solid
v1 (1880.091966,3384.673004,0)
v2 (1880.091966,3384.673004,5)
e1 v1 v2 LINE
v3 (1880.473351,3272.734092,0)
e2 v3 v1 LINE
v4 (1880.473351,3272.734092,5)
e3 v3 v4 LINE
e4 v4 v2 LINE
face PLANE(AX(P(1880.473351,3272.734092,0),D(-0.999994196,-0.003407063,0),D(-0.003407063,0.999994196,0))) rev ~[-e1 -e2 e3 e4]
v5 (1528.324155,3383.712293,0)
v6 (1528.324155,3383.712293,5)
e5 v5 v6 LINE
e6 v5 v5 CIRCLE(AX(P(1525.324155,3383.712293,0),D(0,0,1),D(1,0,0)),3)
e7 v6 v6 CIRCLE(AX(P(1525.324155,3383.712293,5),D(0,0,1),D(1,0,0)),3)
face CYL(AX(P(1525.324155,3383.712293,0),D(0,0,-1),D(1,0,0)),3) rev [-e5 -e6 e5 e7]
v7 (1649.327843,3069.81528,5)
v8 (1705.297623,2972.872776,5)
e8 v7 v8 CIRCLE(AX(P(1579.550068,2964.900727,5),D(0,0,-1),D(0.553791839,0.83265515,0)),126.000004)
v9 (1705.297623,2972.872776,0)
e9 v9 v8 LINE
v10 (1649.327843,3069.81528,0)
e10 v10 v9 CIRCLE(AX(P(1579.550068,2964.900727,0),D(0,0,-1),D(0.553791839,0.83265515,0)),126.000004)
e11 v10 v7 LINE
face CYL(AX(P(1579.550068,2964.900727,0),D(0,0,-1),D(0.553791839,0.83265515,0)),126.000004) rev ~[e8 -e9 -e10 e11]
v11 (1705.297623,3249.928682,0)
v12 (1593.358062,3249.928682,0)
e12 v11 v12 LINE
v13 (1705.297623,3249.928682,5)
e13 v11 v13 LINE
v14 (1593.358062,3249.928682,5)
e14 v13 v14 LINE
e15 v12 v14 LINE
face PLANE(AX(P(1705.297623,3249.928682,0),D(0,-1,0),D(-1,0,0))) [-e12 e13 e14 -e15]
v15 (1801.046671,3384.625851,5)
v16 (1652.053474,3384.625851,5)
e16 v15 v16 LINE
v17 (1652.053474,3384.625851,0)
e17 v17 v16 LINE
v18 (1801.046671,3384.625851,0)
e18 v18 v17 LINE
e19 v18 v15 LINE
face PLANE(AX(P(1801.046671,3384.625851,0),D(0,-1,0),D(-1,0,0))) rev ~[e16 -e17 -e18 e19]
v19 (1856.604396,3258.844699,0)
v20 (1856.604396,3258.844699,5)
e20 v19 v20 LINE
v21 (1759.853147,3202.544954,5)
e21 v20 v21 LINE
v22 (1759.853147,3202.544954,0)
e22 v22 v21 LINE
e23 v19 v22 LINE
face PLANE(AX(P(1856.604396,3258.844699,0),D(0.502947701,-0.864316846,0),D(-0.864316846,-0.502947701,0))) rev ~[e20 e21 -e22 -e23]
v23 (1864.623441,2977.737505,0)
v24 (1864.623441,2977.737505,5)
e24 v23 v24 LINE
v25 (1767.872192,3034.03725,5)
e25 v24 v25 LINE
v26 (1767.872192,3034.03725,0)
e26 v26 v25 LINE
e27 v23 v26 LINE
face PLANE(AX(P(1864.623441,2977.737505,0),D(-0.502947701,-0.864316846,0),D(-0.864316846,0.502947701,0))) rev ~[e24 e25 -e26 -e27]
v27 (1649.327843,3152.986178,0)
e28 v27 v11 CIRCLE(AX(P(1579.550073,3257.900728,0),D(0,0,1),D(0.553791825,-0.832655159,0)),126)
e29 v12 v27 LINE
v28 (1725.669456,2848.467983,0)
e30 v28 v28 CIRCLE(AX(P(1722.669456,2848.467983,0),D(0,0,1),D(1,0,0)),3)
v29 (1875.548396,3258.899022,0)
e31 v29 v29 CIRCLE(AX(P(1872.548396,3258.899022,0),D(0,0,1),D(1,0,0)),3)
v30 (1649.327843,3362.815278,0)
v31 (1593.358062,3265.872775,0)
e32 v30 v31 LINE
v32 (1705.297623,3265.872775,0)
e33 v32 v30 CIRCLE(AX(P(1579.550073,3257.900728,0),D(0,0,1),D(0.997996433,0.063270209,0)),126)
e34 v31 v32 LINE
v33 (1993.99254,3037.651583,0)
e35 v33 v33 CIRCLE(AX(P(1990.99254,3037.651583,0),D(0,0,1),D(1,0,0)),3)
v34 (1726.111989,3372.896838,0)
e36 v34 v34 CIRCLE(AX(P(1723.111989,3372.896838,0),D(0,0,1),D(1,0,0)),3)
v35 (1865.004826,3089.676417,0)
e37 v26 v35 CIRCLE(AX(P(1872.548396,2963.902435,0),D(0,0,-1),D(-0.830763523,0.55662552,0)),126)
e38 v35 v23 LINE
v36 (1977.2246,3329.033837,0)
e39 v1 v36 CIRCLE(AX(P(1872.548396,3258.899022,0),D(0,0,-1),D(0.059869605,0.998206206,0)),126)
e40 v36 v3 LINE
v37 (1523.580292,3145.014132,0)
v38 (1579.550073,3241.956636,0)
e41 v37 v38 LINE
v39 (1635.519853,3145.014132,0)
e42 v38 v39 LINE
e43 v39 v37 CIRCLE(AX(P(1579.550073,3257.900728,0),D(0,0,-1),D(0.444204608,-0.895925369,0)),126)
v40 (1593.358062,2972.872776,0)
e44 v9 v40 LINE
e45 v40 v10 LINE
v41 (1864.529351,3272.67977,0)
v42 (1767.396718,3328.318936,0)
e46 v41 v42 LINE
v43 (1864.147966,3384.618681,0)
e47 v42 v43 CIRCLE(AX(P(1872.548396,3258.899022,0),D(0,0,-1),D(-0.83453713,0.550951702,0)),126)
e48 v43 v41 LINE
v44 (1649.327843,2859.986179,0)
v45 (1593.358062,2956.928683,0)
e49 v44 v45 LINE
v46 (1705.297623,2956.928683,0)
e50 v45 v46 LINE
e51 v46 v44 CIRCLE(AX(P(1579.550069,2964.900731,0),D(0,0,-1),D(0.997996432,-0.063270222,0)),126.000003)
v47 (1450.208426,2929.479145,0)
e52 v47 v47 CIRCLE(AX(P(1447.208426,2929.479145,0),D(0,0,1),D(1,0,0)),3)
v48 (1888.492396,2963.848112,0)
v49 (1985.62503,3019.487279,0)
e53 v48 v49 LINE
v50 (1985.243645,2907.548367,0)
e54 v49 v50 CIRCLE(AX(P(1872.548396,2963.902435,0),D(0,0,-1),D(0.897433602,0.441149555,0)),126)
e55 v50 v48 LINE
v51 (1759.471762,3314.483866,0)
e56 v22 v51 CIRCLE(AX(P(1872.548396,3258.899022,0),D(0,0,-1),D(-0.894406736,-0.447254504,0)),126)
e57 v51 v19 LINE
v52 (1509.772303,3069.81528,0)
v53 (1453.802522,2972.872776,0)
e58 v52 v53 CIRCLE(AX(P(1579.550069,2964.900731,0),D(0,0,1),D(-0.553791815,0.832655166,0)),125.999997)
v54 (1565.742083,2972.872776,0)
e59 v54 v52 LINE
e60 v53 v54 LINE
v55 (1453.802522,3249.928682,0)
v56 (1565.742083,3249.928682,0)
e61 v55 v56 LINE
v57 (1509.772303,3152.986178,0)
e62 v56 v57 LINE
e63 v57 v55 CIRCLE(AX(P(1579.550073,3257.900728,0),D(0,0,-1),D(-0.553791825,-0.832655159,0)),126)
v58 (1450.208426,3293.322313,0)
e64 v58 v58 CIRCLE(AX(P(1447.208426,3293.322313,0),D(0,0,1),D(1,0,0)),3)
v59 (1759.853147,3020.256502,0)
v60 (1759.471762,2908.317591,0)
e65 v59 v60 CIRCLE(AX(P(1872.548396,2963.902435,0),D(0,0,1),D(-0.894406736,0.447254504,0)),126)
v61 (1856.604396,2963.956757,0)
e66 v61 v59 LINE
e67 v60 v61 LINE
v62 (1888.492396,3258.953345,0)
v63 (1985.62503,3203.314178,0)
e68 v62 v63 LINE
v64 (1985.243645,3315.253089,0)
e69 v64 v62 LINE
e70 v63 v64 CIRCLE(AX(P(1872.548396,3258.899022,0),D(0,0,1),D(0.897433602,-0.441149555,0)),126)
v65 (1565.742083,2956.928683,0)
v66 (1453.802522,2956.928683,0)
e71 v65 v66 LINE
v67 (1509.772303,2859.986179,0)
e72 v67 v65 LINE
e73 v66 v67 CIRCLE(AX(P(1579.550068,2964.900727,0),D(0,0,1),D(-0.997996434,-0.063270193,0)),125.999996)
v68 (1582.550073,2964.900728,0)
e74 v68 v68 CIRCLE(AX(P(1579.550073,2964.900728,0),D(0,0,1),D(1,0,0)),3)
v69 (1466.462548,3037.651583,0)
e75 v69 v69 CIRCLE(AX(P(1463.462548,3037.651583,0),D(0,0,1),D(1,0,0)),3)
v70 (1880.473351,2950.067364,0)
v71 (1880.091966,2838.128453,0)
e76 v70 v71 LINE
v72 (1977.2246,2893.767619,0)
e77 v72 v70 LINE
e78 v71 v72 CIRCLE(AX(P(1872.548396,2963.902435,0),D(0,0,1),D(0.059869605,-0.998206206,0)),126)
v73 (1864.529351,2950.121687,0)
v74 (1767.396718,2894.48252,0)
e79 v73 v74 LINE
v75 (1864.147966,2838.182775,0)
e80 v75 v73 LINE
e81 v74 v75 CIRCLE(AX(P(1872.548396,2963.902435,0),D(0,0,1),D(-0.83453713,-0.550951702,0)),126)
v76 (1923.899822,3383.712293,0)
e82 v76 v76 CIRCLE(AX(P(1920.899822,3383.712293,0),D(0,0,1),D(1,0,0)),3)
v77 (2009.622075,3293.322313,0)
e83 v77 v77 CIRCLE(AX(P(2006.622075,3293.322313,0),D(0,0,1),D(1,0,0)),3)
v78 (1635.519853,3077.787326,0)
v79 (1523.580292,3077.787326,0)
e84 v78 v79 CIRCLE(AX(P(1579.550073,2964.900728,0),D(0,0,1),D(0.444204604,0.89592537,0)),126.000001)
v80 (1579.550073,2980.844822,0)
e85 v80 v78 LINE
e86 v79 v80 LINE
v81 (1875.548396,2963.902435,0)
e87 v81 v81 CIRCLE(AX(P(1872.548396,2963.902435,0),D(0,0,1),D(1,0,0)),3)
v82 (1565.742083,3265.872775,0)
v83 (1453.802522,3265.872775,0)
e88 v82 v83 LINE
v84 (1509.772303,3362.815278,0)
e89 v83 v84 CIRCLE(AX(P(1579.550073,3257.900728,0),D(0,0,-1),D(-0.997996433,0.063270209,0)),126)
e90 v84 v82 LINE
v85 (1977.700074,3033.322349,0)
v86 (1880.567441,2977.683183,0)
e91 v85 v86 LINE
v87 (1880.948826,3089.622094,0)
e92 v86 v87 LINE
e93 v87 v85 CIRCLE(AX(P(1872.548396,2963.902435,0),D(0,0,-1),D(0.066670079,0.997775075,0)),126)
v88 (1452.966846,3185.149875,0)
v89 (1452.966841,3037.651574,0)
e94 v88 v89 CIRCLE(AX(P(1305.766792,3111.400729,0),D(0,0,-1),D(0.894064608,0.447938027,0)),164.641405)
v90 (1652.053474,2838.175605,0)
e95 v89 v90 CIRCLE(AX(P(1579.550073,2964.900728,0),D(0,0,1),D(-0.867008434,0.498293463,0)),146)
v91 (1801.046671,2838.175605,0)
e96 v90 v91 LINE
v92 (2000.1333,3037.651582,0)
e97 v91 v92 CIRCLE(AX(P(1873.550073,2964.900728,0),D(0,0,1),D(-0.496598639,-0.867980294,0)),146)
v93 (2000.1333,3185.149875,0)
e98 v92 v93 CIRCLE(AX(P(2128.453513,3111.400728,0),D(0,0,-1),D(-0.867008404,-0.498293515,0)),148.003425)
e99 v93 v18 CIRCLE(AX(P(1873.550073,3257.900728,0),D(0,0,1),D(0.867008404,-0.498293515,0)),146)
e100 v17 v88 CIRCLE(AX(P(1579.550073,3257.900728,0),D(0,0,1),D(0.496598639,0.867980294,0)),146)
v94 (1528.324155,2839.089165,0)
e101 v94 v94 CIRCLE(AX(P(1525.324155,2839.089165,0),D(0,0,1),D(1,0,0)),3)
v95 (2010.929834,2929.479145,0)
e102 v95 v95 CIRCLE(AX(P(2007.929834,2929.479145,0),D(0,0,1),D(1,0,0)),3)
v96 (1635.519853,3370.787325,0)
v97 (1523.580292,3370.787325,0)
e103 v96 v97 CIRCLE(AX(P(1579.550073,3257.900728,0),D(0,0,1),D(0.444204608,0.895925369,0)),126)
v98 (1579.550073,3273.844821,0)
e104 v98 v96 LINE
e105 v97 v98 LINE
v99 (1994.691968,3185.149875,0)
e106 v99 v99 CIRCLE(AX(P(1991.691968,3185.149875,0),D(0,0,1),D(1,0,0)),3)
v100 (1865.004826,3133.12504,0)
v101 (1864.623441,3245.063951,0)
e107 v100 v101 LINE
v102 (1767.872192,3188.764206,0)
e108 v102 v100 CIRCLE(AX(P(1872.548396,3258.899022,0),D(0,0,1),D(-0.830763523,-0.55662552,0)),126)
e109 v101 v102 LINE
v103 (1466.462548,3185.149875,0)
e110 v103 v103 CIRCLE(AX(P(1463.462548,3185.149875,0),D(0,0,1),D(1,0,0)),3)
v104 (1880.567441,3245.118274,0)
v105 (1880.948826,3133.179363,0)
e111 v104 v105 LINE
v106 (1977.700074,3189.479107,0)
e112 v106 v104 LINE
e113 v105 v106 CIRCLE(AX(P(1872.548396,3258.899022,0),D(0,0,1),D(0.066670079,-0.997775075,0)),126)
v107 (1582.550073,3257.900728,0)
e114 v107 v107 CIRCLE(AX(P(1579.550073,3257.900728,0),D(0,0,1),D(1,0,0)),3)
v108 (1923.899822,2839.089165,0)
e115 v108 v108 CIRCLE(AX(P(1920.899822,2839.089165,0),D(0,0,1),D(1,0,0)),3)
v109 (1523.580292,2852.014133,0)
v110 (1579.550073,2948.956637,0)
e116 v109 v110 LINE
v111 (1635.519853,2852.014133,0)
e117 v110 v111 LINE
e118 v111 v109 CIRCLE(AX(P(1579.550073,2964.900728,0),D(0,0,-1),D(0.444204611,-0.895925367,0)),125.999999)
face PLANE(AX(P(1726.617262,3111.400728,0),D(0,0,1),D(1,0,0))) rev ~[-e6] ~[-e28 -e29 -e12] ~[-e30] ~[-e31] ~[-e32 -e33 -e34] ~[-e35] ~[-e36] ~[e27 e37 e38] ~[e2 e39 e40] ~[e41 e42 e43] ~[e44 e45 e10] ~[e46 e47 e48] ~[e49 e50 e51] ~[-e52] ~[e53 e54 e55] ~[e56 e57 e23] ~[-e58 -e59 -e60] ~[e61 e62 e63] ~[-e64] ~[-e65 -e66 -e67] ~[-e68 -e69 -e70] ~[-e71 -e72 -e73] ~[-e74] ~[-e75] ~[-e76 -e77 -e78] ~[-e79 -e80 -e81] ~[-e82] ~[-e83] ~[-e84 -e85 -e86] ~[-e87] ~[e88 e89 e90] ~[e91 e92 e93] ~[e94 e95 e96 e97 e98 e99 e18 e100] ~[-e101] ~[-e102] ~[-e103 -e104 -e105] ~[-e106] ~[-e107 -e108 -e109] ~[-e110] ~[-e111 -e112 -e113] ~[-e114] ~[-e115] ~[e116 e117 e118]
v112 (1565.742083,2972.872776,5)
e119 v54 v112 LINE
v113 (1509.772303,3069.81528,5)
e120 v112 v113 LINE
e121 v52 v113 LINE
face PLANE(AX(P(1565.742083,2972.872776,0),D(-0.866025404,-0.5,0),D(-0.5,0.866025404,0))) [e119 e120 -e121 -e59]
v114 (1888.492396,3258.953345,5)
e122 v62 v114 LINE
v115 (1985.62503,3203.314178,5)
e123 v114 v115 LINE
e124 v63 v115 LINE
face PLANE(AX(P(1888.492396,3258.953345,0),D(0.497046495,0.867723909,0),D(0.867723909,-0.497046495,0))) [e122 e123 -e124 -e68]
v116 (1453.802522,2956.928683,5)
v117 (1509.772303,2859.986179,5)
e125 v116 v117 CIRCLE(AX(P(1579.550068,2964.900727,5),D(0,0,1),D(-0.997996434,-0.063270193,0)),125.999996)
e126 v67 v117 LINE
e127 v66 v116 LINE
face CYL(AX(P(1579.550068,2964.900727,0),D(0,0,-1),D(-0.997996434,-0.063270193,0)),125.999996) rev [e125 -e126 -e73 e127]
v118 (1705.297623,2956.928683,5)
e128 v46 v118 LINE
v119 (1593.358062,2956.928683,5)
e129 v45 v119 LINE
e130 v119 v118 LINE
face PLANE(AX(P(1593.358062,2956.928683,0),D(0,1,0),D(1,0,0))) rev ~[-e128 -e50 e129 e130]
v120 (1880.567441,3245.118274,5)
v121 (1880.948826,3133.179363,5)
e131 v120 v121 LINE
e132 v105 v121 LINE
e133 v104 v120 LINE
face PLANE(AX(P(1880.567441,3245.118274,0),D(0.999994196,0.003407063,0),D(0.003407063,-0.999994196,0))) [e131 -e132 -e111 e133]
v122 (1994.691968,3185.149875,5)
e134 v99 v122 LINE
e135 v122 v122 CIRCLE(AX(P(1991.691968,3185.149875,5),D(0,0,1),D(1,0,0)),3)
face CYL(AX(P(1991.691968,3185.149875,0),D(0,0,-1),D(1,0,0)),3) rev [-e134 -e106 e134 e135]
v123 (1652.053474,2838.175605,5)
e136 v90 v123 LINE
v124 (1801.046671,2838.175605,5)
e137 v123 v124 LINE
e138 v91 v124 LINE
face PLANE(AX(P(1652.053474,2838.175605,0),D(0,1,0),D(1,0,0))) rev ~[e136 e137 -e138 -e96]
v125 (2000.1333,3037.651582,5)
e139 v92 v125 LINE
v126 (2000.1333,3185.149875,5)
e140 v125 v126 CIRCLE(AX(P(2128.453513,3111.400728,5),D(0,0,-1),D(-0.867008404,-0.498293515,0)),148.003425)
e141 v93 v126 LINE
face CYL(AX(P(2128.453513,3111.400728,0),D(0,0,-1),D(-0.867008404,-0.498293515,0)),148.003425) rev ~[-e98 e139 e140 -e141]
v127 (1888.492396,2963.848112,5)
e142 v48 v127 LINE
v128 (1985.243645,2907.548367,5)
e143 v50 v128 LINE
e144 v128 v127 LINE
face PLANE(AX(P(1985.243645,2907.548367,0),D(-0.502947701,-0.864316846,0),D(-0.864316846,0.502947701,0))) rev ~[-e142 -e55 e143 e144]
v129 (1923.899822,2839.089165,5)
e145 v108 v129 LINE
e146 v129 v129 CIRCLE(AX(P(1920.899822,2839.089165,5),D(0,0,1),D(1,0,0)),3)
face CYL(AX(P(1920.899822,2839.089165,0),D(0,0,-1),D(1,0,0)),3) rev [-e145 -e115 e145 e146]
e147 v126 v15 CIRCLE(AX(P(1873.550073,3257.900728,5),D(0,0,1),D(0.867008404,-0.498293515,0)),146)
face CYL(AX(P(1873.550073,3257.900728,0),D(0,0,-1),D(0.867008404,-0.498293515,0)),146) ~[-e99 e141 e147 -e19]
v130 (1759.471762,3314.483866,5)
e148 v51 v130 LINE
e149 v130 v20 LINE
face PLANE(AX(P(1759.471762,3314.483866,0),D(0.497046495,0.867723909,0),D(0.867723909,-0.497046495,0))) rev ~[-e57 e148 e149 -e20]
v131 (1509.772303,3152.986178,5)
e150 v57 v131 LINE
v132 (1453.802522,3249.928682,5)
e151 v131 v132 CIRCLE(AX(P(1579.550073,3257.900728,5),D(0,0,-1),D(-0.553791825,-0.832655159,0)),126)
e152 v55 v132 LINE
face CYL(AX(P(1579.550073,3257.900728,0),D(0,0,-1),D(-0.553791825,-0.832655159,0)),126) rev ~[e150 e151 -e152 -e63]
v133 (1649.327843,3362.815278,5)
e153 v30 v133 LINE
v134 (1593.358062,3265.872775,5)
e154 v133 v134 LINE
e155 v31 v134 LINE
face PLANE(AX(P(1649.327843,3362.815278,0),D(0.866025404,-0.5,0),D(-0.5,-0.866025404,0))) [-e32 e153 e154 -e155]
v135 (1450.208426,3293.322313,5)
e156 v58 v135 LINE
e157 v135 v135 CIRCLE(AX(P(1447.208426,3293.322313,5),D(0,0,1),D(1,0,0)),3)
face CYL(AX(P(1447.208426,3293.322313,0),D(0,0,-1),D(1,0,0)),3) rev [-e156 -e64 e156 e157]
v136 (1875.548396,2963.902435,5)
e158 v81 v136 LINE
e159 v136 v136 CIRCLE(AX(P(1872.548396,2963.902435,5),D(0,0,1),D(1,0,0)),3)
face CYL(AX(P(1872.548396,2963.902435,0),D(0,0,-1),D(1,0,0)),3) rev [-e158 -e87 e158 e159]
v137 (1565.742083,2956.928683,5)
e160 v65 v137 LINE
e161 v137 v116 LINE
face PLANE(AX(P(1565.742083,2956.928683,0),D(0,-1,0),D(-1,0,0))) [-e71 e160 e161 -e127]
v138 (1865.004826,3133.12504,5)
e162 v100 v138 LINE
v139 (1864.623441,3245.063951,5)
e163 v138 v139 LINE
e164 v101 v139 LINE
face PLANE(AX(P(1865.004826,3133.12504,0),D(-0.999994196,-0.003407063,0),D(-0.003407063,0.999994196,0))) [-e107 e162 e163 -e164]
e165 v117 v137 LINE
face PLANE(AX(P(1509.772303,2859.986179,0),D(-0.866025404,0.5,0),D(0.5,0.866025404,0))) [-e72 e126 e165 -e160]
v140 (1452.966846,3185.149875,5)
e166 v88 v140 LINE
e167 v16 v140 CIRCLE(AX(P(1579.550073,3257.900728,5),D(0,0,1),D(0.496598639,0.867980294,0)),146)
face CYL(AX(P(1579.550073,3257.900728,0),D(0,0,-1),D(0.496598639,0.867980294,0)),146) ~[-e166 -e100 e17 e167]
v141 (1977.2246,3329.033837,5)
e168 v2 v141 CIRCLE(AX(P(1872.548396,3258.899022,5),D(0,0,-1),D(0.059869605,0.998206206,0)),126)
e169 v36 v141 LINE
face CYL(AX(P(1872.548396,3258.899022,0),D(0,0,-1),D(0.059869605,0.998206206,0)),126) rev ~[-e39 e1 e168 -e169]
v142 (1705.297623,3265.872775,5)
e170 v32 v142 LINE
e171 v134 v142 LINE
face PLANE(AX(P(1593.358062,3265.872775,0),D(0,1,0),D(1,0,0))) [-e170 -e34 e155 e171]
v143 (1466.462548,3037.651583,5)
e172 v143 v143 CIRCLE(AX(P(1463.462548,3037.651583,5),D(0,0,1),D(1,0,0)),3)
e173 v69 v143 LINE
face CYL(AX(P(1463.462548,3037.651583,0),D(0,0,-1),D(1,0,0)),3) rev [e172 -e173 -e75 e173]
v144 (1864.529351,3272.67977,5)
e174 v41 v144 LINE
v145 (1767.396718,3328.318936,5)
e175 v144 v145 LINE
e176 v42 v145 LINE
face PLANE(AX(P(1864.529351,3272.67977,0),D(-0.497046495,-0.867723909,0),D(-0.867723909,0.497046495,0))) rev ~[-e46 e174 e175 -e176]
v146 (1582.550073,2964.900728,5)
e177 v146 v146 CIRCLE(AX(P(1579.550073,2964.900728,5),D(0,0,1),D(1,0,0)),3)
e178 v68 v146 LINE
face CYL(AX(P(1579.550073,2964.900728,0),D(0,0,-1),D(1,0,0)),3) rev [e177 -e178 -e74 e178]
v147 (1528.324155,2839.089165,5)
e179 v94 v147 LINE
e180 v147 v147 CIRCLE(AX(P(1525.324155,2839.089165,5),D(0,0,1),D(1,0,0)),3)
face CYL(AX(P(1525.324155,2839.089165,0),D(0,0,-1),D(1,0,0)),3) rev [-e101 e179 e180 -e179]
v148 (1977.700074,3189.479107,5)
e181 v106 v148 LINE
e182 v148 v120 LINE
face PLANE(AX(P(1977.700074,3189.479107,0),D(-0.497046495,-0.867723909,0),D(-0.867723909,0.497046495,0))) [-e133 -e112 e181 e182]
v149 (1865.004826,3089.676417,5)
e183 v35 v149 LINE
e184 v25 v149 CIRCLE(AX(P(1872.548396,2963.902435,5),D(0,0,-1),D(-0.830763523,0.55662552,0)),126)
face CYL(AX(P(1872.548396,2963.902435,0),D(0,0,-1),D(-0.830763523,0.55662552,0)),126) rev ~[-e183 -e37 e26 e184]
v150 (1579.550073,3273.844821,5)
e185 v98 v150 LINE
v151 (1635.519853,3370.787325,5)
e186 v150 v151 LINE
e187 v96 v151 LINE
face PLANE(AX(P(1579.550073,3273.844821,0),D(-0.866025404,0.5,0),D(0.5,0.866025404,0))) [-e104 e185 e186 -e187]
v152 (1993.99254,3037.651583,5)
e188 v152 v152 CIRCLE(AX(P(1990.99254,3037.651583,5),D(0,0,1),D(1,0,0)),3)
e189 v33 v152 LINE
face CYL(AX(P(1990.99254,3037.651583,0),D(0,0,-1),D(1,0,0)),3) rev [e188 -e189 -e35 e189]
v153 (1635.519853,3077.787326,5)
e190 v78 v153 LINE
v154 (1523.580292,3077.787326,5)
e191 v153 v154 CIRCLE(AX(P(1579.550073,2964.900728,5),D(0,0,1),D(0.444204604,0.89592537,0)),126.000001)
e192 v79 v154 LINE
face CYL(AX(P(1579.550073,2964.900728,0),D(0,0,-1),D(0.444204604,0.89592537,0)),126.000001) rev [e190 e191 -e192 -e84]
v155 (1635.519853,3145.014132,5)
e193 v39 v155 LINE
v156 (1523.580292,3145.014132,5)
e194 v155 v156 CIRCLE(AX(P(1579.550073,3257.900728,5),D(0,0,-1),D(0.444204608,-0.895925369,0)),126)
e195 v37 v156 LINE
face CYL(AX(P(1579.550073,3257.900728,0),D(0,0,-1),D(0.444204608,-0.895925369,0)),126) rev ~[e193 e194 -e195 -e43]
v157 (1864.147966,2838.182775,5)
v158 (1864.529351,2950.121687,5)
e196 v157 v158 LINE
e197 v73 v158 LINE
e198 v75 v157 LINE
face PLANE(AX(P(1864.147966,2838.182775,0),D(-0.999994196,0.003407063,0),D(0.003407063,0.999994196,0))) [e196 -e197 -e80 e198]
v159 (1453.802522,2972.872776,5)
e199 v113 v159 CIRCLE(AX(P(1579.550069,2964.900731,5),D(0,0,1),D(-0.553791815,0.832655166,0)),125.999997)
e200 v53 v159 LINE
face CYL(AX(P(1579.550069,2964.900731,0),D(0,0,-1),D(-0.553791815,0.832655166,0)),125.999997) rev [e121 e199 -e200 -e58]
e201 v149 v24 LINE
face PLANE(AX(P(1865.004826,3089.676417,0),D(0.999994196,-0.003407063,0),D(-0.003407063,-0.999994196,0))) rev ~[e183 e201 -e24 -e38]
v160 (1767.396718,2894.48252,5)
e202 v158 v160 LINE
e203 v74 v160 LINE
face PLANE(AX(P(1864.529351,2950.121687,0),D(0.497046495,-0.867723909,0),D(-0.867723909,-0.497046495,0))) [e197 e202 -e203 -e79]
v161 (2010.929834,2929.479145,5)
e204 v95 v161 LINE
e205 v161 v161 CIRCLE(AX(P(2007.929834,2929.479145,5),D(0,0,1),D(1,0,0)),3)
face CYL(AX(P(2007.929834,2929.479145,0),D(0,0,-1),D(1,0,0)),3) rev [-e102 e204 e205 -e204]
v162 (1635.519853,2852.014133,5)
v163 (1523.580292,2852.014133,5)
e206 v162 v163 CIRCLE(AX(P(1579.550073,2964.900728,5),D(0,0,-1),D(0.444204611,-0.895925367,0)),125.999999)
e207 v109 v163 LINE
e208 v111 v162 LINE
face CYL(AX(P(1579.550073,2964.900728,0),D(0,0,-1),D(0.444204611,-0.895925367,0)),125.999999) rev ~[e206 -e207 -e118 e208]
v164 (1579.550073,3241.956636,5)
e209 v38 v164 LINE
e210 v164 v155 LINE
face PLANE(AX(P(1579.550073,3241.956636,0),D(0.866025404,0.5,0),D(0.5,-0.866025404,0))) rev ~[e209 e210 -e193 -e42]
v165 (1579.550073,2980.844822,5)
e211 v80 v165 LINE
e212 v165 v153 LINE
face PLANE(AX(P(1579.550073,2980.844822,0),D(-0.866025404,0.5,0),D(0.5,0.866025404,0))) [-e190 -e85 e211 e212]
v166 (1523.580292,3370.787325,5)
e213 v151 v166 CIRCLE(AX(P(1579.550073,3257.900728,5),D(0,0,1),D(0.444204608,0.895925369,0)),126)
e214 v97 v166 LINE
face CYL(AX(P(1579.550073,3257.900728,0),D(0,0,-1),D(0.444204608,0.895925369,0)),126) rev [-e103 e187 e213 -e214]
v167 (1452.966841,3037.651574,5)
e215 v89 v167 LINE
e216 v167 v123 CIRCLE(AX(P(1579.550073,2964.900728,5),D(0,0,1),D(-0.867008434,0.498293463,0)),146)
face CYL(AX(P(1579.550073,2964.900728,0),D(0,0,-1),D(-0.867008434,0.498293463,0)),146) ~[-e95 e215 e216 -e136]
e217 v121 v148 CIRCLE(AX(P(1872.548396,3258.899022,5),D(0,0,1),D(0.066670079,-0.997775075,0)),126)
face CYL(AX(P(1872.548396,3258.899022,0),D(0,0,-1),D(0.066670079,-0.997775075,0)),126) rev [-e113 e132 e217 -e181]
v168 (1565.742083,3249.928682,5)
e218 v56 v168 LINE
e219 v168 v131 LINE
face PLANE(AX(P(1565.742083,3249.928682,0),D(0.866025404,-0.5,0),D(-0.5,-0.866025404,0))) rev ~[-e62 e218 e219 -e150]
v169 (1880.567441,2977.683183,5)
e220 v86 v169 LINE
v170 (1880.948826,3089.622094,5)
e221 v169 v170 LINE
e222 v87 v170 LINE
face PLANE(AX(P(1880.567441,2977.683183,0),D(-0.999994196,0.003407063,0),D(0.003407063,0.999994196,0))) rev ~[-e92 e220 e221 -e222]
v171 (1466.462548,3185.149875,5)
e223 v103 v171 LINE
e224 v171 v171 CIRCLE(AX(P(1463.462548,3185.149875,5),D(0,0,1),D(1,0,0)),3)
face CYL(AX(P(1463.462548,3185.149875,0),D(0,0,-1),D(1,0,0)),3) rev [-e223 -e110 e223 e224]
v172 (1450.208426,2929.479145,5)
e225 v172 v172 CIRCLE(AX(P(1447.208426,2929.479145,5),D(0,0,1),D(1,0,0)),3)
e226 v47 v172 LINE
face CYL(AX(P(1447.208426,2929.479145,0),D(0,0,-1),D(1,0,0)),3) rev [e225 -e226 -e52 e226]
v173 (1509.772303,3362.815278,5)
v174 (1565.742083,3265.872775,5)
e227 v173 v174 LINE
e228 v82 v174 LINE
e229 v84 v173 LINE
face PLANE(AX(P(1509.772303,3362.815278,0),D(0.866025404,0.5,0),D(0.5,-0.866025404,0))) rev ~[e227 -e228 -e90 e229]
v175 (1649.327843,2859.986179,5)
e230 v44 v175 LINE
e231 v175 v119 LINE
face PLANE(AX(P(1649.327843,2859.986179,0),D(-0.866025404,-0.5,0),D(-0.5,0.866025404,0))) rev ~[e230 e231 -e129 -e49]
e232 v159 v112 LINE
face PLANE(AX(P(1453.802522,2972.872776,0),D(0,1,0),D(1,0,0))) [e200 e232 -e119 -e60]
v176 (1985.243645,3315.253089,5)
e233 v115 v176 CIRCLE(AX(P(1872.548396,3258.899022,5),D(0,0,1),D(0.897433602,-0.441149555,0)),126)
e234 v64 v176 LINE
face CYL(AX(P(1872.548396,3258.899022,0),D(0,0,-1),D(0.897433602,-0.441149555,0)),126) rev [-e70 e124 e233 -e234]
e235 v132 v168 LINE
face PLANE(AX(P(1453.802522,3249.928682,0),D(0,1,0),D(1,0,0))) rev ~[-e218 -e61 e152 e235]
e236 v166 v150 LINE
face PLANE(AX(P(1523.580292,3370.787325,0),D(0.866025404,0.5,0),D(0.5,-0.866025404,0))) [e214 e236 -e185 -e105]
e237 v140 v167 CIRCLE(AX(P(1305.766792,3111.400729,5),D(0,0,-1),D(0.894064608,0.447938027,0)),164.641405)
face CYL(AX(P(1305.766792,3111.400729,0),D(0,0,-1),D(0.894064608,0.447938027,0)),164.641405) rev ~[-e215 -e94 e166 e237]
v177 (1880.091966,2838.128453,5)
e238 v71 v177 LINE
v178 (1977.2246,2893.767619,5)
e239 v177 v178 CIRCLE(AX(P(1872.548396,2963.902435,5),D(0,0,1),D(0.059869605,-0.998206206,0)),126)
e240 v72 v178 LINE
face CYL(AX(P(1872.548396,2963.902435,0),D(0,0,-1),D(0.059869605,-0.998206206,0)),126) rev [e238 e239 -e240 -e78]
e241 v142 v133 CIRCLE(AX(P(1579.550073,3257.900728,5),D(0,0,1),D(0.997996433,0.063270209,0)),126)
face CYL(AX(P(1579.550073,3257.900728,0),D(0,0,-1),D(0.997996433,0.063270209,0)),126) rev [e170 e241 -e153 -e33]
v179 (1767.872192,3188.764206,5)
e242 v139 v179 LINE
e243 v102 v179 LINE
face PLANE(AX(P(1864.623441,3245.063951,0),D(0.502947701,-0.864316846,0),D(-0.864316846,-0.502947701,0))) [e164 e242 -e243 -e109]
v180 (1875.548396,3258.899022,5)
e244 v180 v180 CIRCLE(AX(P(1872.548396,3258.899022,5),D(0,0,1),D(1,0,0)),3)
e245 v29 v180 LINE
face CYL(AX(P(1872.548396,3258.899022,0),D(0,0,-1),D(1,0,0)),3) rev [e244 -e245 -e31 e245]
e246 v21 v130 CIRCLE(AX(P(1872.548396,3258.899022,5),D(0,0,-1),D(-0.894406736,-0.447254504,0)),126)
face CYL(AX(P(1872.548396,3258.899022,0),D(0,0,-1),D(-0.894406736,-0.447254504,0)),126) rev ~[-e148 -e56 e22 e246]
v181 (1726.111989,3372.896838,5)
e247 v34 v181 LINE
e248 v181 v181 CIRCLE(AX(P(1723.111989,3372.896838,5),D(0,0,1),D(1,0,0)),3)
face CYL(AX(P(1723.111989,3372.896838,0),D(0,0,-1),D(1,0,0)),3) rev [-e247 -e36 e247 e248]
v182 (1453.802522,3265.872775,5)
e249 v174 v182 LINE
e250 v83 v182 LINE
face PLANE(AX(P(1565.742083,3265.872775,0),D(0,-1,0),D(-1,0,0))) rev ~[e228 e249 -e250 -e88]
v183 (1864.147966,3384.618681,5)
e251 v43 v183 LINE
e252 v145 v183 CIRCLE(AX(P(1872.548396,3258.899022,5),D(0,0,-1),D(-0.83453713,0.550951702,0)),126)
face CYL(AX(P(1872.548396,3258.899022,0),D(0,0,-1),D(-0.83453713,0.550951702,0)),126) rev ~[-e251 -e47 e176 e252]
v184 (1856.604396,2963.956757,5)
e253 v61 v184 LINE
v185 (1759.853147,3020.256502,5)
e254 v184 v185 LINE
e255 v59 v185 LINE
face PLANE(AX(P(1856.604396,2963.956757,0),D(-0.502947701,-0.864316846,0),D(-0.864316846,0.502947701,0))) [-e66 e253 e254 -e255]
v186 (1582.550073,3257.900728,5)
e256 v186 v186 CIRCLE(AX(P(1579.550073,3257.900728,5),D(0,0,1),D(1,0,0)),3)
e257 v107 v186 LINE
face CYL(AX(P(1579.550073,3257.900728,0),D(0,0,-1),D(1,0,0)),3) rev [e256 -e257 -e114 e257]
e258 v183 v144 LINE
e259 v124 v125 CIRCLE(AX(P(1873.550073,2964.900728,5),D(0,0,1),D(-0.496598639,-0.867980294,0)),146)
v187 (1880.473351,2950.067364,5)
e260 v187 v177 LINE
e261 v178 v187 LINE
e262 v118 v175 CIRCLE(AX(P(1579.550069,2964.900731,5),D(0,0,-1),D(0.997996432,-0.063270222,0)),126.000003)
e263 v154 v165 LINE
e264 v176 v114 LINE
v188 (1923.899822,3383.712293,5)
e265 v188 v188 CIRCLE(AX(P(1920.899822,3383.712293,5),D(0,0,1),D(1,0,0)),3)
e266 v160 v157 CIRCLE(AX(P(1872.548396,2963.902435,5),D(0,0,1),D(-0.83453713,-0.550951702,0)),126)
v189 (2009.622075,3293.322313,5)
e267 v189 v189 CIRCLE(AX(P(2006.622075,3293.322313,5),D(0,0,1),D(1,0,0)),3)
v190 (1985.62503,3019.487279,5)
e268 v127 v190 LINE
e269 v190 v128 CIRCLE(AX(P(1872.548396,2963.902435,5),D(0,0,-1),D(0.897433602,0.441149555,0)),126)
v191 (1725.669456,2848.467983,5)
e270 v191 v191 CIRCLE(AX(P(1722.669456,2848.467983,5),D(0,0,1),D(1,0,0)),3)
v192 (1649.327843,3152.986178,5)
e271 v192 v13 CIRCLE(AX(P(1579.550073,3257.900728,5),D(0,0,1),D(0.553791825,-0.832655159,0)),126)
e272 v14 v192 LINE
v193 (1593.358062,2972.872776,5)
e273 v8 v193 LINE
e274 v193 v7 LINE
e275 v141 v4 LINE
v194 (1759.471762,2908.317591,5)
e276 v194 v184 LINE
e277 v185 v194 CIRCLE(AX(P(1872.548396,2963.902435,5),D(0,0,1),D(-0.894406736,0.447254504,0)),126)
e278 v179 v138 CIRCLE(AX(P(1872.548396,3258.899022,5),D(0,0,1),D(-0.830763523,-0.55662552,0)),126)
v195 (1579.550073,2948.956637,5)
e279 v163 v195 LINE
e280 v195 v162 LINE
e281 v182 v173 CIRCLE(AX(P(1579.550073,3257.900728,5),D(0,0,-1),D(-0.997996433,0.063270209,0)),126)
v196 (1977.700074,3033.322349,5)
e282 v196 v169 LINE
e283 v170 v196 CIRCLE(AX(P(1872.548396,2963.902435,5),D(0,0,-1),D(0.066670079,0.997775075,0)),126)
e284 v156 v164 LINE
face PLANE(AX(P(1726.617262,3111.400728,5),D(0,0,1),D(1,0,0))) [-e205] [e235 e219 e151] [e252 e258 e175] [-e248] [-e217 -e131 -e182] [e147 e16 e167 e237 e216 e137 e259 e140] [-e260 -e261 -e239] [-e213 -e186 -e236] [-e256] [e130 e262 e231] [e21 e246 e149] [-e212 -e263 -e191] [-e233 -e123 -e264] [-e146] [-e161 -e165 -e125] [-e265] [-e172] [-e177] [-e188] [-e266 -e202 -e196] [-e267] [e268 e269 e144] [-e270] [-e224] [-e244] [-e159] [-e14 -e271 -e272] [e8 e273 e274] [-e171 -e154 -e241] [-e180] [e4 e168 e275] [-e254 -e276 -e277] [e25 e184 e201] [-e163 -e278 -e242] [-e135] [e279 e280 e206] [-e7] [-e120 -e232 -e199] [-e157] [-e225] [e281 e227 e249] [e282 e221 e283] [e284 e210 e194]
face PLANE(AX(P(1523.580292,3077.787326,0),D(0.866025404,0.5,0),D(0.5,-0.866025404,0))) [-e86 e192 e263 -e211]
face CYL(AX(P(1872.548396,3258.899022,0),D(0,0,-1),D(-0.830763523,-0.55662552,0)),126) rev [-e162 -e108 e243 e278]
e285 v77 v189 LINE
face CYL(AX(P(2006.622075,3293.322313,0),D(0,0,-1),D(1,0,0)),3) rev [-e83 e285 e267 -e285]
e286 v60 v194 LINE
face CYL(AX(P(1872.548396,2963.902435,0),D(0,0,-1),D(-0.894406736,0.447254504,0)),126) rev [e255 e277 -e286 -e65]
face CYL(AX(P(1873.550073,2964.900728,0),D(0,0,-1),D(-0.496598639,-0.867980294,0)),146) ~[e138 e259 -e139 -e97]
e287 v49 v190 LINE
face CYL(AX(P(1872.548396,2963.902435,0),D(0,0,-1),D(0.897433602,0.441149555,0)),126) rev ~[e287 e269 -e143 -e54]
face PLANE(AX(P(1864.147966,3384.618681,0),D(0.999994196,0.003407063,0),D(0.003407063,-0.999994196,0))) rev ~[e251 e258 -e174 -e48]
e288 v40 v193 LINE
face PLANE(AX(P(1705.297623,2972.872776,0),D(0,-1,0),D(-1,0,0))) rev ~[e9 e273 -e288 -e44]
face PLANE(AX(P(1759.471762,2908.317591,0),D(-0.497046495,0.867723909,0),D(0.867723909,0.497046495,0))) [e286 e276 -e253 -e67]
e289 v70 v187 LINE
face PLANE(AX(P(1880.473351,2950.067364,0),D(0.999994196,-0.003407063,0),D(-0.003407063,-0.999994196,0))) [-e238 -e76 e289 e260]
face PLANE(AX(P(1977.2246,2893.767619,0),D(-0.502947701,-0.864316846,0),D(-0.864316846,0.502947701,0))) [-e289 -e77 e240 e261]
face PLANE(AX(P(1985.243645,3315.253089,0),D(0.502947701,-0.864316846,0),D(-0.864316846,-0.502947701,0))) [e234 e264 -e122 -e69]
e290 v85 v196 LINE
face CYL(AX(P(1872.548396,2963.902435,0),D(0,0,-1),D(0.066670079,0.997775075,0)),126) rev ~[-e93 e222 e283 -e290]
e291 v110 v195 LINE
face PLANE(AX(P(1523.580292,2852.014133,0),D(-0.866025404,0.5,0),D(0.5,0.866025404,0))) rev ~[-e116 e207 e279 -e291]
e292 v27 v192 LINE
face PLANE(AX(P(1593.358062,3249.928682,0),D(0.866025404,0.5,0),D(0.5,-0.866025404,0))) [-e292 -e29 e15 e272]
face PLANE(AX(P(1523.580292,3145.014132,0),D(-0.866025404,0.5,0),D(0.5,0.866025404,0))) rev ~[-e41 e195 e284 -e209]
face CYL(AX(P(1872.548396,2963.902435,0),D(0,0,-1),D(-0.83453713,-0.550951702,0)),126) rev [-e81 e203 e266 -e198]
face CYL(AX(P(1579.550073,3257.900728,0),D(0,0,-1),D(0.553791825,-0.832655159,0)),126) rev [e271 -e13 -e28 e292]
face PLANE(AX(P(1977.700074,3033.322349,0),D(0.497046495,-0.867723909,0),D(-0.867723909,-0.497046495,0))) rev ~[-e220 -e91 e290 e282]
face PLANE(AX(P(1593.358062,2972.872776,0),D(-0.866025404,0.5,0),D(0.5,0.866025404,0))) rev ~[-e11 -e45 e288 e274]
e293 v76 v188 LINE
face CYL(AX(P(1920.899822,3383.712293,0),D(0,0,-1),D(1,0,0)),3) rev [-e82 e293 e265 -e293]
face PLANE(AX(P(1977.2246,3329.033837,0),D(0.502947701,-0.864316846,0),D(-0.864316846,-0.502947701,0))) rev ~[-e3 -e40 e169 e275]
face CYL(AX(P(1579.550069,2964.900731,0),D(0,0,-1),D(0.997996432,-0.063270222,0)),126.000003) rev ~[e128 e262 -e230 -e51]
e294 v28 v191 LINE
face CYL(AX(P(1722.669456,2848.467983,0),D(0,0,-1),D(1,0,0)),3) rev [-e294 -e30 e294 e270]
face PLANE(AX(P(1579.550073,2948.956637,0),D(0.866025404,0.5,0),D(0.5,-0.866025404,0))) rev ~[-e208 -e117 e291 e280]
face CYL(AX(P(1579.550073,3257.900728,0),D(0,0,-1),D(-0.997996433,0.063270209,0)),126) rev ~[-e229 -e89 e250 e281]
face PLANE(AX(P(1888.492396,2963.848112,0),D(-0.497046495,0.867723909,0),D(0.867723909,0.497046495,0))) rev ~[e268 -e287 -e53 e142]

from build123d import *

# Parameters (mm, degrees)
MODEL_R         = 3
MODEL_R_2       = 2.999999999
EXTRUDE_1_DEPTH = 5


with BuildPart() as part:
    # Model → 凸台-拉伸1 (new body)
    with BuildSketch(Plane.XY):
        with BuildLine():
            Line((1801.04667122, 3384.62585133), (1652.053473941, 3384.62585133))
            ThreePointArc((1652.053473941, 3384.62585133), (1476.211681089, 3361.037418459), (1452.966845602, 3185.14987512))
            ThreePointArc((1452.966845602, 3185.14987512), (1470.408197338, 3111.400724011), (1452.966841198, 3037.651573943))
            ThreePointArc((1452.966841198, 3037.651573943), (1476.211684212, 2861.76403514), (1652.053473941, 2838.175605395))
            Line((1652.053473941, 2838.175605395), (1801.04667122, 2838.175605395))
            ThreePointArc((1801.04667122, 2838.175605395), (1976.888464071, 2861.764038266), (2000.13329956, 3037.651581604))
            ThreePointArc((2000.13329956, 3037.651581604), (1980.450087896, 3111.400728363), (2000.13329956, 3185.149875122))
            ThreePointArc((2000.13329956, 3185.149875122), (1976.888464071, 3361.037418459), (1801.04667122, 3384.62585133))
        make_face()
        with Locations((1463.462548046, 3185.149875121)):
            Circle(MODEL_R, mode=Mode.SUBTRACT)
        with Locations((1447.208426339, 3293.322313167)):
            Circle(MODEL_R, mode=Mode.SUBTRACT)
        with Locations((1525.324154834, 3383.712293191)):
            Circle(MODEL_R, mode=Mode.SUBTRACT)
        with Locations((1463.462548046, 3037.651582732)):
            Circle(MODEL_R, mode=Mode.SUBTRACT)
        with Locations((1447.208426339, 2929.479144686)):
            Circle(MODEL_R, mode=Mode.SUBTRACT)
        with Locations((1525.324154834, 2839.089164661)):
            Circle(MODEL_R, mode=Mode.SUBTRACT)
        with Locations((1991.691967871, 3185.149875121)):
            Circle(MODEL_R, mode=Mode.SUBTRACT)
        with Locations((2006.622075137, 3293.322313167)):
            Circle(MODEL_R, mode=Mode.SUBTRACT)
        with Locations((1920.899822368, 3383.712293191)):
            Circle(MODEL_R, mode=Mode.SUBTRACT)
        with Locations((1990.992539788, 3037.651582732)):
            Circle(MODEL_R, mode=Mode.SUBTRACT)
        with Locations((2007.92983358, 2929.479144686)):
            Circle(MODEL_R, mode=Mode.SUBTRACT)
        with Locations((1920.899822368, 2839.089164661)):
            Circle(MODEL_R, mode=Mode.SUBTRACT)
        with Locations((1723.111988601, 3372.896838033)):
            Circle(MODEL_R, mode=Mode.SUBTRACT)
        with Locations((1722.6694561, 2848.467983232)):
            Circle(MODEL_R, mode=Mode.SUBTRACT)
        with Locations((1579.55007258, 3257.900728363)):
            Circle(MODEL_R, mode=Mode.SUBTRACT)
        with Locations((1579.550072582, 2964.900728364)):
            Circle(MODEL_R_2, mode=Mode.SUBTRACT)
        with Locations((1872.548395989, 2963.902434755)):
            Circle(MODEL_R, mode=Mode.SUBTRACT)
        with Locations((1872.548395989, 3258.899021971)):
            Circle(MODEL_R, mode=Mode.SUBTRACT)
        with BuildLine():
            Line((1523.580291982, 3370.78732482), (1579.55007258, 3273.844821135))
            Line((1579.55007258, 3273.844821135), (1635.519853179, 3370.78732482))
            ThreePointArc((1635.519853179, 3370.78732482), (1579.55007258, 3383.900728363), (1523.580291982, 3370.78732482))
        make_face(mode=Mode.SUBTRACT)
        with BuildLine():
            Line((1509.772302601, 3362.815278434), (1565.742083199, 3265.872774749))
            Line((1565.742083199, 3265.872774749), (1453.802522002, 3265.872774749))
            ThreePointArc((1453.802522002, 3265.872774749), (1470.430871704, 3320.900728363), (1509.772302601, 3362.815278434))
        make_face(mode=Mode.SUBTRACT)
        with BuildLine():
            Line((1579.55007258, 3241.956635591), (1635.519853179, 3145.014131905))
            ThreePointArc((1635.519853179, 3145.014131905), (1579.55007258, 3131.900728363), (1523.580291982, 3145.014131905))
            Line((1523.580291982, 3145.014131905), (1579.55007258, 3241.956635591))
        make_face(mode=Mode.SUBTRACT)
        with BuildLine():
            Line((1593.358061961, 3249.928681977), (1649.32784256, 3152.986178291))
            ThreePointArc((1649.32784256, 3152.986178291), (1688.669273457, 3194.900728363), (1705.297623159, 3249.928681977))
            Line((1705.297623159, 3249.928681977), (1593.358061961, 3249.928681977))
        make_face(mode=Mode.SUBTRACT)
        with BuildLine():
            Line((1453.802522002, 3249.928681977), (1565.742083199, 3249.928681977))
            Line((1565.742083199, 3249.928681977), (1509.772302601, 3152.986178291))
            ThreePointArc((1509.772302601, 3152.986178291), (1470.430871704, 3194.900728363), (1453.802522002, 3249.928681977))
        make_face(mode=Mode.SUBTRACT)
        with BuildLine():
            Line((1649.32784256, 3362.815278434), (1593.358061961, 3265.872774749))
            Line((1593.358061961, 3265.872774749), (1705.297623159, 3265.872774749))
            ThreePointArc((1705.297623159, 3265.872774749), (1688.669273457, 3320.900728363), (1649.32784256, 3362.815278434))
        make_face(mode=Mode.SUBTRACT)
        with BuildLine():
            Line((1509.772302601, 2859.986179418), (1565.742083199, 2956.928683103))
            Line((1565.742083199, 2956.928683103), (1453.802522002, 2956.928683103))
            ThreePointArc((1453.802522002, 2956.928683103), (1470.430871328, 2901.900729155), (1509.772302601, 2859.986179418))
        make_face(mode=Mode.SUBTRACT)
        with BuildLine():
            Line((1579.55007258, 2980.844822261), (1635.519853179, 3077.787325947))
            ThreePointArc((1635.519853179, 3077.787325947), (1579.55007258, 3090.900729372), (1523.580291982, 3077.787325947))
            Line((1523.580291982, 3077.787325947), (1579.55007258, 2980.844822261))
        make_face(mode=Mode.SUBTRACT)
        with BuildLine():
            Line((1523.580291982, 2852.014133032), (1579.55007258, 2948.956636717))
            Line((1579.55007258, 2948.956636717), (1635.519853179, 2852.014133032))
            ThreePointArc((1635.519853179, 2852.014133032), (1579.55007258, 2838.900729372), (1523.580291982, 2852.014133032))
        make_face(mode=Mode.SUBTRACT)
        with BuildLine():
            Line((1593.358061961, 2972.872775875), (1649.32784256, 3069.815279561))
            ThreePointArc((1649.32784256, 3069.815279561), (1688.669273082, 3027.900729155), (1705.297623159, 2972.872775875))
            Line((1705.297623159, 2972.872775875), (1593.358061961, 2972.872775875))
        make_face(mode=Mode.SUBTRACT)
        with BuildLine():
            Line((1453.802522002, 2972.872775875), (1565.742083199, 2972.872775875))
            Line((1565.742083199, 2972.872775875), (1509.772302601, 3069.815279561))
            ThreePointArc((1509.772302601, 3069.815279561), (1470.430871329, 3027.900729588), (1453.802522002, 2972.872775875))
        make_face(mode=Mode.SUBTRACT)
        with BuildLine():
            Line((1649.32784256, 2859.986179418), (1593.358061961, 2956.928683103))
            Line((1593.358061961, 2956.928683103), (1705.297623159, 2956.928683103))
            ThreePointArc((1705.297623159, 2956.928683103), (1688.669273083, 2901.900729588), (1649.32784256, 2859.986179418))
        make_face(mode=Mode.SUBTRACT)
        with BuildLine():
            Line((1977.224599856, 2893.767619263), (1880.473351412, 2950.06736425))
            Line((1880.473351412, 2950.06736425), (1880.091966249, 2838.128452757))
            ThreePointArc((1880.091966249, 2838.128452757), (1935.176254316, 2854.569222229), (1977.224599856, 2893.767619263))
        make_face(mode=Mode.SUBTRACT)
        with BuildLine():
            Line((1856.604395758, 2963.956757288), (1759.853147314, 3020.256502275))
            ThreePointArc((1759.853147314, 3020.256502275), (1746.5491273, 2964.331724723), (1759.47176215, 2908.317590781))
            Line((1759.47176215, 2908.317590781), (1856.604395758, 2963.956757288))
        make_face(mode=Mode.SUBTRACT)
        with BuildLine():
            Line((1985.243644665, 2907.548367236), (1888.492396221, 2963.848112223))
            Line((1888.492396221, 2963.848112223), (1985.625029828, 3019.487278729))
            ThreePointArc((1985.625029828, 3019.487278729), (1998.547664678, 2963.473144788), (1985.243644665, 2907.548367236))
        make_face(mode=Mode.SUBTRACT)
        with BuildLine():
            Line((1864.623440566, 2977.73750526), (1767.872192123, 3034.037250247))
            ThreePointArc((1767.872192123, 3034.037250247), (1809.920537662, 3073.235647282), (1865.00482573, 3089.676416754))
            Line((1865.00482573, 3089.676416754), (1864.623440566, 2977.73750526))
        make_face(mode=Mode.SUBTRACT)
        with BuildLine():
            Line((1864.147966017, 2838.182775289), (1864.52935118, 2950.121686783))
            Line((1864.52935118, 2950.121686783), (1767.396717573, 2894.482520276))
            ThreePointArc((1767.396717573, 2894.482520276), (1809.176985627, 2854.998512196), (1864.147966017, 2838.182775289))
        make_face(mode=Mode.SUBTRACT)
        with BuildLine():
            Line((1977.700074405, 3033.322349234), (1880.567440798, 2977.683182728))
            Line((1880.567440798, 2977.683182728), (1880.948825962, 3089.622094221))
            ThreePointArc((1880.948825962, 3089.622094221), (1935.919806351, 3072.806357314), (1977.700074405, 3033.322349234))
        make_face(mode=Mode.SUBTRACT)
        with BuildLine():
            Line((1977.224599856, 3329.033837463), (1880.473351412, 3272.734092476))
            Line((1880.473351412, 3272.734092476), (1880.091966249, 3384.673003969))
            ThreePointArc((1880.091966249, 3384.673003969), (1935.176254316, 3368.232234498), (1977.224599856, 3329.033837463))
        make_face(mode=Mode.SUBTRACT)
        with BuildLine():
            Line((1856.604395758, 3258.844699439), (1759.853147314, 3202.544954452))
            ThreePointArc((1759.853147314, 3202.544954452), (1746.5491273, 3258.469732003), (1759.47176215, 3314.483865945))
            Line((1759.47176215, 3314.483865945), (1856.604395758, 3258.844699439))
        make_face(mode=Mode.SUBTRACT)
        with BuildLine():
            Line((1985.243644665, 3315.25308949), (1888.492396221, 3258.953344503))
            Line((1888.492396221, 3258.953344503), (1985.625029828, 3203.314177997))
            ThreePointArc((1985.625029828, 3203.314177997), (1998.547664678, 3259.328311939), (1985.243644665, 3315.25308949))
        make_face(mode=Mode.SUBTRACT)
        with BuildLine():
            Line((1864.623440566, 3245.063951466), (1767.872192123, 3188.764206479))
            ThreePointArc((1767.872192123, 3188.764206479), (1809.920537662, 3149.565809444), (1865.00482573, 3133.125039973))
            Line((1865.00482573, 3133.125039973), (1864.623440566, 3245.063951466))
        make_face(mode=Mode.SUBTRACT)
        with BuildLine():
            Line((1864.147966017, 3384.618681437), (1864.52935118, 3272.679769944))
            Line((1864.52935118, 3272.679769944), (1767.396717573, 3328.31893645))
            ThreePointArc((1767.396717573, 3328.31893645), (1809.176985627, 3367.80294453), (1864.147966017, 3384.618681437))
        make_face(mode=Mode.SUBTRACT)
        with BuildLine():
            Line((1977.700074405, 3189.479107492), (1880.567440798, 3245.118273999))
            Line((1880.567440798, 3245.118273999), (1880.948825962, 3133.179362505))
            ThreePointArc((1880.948825962, 3133.179362505), (1935.919806351, 3149.995099412), (1977.700074405, 3189.479107492))
        make_face(mode=Mode.SUBTRACT)
    extrude(amount=EXTRUDE_1_DEPTH)


solid = part.part
